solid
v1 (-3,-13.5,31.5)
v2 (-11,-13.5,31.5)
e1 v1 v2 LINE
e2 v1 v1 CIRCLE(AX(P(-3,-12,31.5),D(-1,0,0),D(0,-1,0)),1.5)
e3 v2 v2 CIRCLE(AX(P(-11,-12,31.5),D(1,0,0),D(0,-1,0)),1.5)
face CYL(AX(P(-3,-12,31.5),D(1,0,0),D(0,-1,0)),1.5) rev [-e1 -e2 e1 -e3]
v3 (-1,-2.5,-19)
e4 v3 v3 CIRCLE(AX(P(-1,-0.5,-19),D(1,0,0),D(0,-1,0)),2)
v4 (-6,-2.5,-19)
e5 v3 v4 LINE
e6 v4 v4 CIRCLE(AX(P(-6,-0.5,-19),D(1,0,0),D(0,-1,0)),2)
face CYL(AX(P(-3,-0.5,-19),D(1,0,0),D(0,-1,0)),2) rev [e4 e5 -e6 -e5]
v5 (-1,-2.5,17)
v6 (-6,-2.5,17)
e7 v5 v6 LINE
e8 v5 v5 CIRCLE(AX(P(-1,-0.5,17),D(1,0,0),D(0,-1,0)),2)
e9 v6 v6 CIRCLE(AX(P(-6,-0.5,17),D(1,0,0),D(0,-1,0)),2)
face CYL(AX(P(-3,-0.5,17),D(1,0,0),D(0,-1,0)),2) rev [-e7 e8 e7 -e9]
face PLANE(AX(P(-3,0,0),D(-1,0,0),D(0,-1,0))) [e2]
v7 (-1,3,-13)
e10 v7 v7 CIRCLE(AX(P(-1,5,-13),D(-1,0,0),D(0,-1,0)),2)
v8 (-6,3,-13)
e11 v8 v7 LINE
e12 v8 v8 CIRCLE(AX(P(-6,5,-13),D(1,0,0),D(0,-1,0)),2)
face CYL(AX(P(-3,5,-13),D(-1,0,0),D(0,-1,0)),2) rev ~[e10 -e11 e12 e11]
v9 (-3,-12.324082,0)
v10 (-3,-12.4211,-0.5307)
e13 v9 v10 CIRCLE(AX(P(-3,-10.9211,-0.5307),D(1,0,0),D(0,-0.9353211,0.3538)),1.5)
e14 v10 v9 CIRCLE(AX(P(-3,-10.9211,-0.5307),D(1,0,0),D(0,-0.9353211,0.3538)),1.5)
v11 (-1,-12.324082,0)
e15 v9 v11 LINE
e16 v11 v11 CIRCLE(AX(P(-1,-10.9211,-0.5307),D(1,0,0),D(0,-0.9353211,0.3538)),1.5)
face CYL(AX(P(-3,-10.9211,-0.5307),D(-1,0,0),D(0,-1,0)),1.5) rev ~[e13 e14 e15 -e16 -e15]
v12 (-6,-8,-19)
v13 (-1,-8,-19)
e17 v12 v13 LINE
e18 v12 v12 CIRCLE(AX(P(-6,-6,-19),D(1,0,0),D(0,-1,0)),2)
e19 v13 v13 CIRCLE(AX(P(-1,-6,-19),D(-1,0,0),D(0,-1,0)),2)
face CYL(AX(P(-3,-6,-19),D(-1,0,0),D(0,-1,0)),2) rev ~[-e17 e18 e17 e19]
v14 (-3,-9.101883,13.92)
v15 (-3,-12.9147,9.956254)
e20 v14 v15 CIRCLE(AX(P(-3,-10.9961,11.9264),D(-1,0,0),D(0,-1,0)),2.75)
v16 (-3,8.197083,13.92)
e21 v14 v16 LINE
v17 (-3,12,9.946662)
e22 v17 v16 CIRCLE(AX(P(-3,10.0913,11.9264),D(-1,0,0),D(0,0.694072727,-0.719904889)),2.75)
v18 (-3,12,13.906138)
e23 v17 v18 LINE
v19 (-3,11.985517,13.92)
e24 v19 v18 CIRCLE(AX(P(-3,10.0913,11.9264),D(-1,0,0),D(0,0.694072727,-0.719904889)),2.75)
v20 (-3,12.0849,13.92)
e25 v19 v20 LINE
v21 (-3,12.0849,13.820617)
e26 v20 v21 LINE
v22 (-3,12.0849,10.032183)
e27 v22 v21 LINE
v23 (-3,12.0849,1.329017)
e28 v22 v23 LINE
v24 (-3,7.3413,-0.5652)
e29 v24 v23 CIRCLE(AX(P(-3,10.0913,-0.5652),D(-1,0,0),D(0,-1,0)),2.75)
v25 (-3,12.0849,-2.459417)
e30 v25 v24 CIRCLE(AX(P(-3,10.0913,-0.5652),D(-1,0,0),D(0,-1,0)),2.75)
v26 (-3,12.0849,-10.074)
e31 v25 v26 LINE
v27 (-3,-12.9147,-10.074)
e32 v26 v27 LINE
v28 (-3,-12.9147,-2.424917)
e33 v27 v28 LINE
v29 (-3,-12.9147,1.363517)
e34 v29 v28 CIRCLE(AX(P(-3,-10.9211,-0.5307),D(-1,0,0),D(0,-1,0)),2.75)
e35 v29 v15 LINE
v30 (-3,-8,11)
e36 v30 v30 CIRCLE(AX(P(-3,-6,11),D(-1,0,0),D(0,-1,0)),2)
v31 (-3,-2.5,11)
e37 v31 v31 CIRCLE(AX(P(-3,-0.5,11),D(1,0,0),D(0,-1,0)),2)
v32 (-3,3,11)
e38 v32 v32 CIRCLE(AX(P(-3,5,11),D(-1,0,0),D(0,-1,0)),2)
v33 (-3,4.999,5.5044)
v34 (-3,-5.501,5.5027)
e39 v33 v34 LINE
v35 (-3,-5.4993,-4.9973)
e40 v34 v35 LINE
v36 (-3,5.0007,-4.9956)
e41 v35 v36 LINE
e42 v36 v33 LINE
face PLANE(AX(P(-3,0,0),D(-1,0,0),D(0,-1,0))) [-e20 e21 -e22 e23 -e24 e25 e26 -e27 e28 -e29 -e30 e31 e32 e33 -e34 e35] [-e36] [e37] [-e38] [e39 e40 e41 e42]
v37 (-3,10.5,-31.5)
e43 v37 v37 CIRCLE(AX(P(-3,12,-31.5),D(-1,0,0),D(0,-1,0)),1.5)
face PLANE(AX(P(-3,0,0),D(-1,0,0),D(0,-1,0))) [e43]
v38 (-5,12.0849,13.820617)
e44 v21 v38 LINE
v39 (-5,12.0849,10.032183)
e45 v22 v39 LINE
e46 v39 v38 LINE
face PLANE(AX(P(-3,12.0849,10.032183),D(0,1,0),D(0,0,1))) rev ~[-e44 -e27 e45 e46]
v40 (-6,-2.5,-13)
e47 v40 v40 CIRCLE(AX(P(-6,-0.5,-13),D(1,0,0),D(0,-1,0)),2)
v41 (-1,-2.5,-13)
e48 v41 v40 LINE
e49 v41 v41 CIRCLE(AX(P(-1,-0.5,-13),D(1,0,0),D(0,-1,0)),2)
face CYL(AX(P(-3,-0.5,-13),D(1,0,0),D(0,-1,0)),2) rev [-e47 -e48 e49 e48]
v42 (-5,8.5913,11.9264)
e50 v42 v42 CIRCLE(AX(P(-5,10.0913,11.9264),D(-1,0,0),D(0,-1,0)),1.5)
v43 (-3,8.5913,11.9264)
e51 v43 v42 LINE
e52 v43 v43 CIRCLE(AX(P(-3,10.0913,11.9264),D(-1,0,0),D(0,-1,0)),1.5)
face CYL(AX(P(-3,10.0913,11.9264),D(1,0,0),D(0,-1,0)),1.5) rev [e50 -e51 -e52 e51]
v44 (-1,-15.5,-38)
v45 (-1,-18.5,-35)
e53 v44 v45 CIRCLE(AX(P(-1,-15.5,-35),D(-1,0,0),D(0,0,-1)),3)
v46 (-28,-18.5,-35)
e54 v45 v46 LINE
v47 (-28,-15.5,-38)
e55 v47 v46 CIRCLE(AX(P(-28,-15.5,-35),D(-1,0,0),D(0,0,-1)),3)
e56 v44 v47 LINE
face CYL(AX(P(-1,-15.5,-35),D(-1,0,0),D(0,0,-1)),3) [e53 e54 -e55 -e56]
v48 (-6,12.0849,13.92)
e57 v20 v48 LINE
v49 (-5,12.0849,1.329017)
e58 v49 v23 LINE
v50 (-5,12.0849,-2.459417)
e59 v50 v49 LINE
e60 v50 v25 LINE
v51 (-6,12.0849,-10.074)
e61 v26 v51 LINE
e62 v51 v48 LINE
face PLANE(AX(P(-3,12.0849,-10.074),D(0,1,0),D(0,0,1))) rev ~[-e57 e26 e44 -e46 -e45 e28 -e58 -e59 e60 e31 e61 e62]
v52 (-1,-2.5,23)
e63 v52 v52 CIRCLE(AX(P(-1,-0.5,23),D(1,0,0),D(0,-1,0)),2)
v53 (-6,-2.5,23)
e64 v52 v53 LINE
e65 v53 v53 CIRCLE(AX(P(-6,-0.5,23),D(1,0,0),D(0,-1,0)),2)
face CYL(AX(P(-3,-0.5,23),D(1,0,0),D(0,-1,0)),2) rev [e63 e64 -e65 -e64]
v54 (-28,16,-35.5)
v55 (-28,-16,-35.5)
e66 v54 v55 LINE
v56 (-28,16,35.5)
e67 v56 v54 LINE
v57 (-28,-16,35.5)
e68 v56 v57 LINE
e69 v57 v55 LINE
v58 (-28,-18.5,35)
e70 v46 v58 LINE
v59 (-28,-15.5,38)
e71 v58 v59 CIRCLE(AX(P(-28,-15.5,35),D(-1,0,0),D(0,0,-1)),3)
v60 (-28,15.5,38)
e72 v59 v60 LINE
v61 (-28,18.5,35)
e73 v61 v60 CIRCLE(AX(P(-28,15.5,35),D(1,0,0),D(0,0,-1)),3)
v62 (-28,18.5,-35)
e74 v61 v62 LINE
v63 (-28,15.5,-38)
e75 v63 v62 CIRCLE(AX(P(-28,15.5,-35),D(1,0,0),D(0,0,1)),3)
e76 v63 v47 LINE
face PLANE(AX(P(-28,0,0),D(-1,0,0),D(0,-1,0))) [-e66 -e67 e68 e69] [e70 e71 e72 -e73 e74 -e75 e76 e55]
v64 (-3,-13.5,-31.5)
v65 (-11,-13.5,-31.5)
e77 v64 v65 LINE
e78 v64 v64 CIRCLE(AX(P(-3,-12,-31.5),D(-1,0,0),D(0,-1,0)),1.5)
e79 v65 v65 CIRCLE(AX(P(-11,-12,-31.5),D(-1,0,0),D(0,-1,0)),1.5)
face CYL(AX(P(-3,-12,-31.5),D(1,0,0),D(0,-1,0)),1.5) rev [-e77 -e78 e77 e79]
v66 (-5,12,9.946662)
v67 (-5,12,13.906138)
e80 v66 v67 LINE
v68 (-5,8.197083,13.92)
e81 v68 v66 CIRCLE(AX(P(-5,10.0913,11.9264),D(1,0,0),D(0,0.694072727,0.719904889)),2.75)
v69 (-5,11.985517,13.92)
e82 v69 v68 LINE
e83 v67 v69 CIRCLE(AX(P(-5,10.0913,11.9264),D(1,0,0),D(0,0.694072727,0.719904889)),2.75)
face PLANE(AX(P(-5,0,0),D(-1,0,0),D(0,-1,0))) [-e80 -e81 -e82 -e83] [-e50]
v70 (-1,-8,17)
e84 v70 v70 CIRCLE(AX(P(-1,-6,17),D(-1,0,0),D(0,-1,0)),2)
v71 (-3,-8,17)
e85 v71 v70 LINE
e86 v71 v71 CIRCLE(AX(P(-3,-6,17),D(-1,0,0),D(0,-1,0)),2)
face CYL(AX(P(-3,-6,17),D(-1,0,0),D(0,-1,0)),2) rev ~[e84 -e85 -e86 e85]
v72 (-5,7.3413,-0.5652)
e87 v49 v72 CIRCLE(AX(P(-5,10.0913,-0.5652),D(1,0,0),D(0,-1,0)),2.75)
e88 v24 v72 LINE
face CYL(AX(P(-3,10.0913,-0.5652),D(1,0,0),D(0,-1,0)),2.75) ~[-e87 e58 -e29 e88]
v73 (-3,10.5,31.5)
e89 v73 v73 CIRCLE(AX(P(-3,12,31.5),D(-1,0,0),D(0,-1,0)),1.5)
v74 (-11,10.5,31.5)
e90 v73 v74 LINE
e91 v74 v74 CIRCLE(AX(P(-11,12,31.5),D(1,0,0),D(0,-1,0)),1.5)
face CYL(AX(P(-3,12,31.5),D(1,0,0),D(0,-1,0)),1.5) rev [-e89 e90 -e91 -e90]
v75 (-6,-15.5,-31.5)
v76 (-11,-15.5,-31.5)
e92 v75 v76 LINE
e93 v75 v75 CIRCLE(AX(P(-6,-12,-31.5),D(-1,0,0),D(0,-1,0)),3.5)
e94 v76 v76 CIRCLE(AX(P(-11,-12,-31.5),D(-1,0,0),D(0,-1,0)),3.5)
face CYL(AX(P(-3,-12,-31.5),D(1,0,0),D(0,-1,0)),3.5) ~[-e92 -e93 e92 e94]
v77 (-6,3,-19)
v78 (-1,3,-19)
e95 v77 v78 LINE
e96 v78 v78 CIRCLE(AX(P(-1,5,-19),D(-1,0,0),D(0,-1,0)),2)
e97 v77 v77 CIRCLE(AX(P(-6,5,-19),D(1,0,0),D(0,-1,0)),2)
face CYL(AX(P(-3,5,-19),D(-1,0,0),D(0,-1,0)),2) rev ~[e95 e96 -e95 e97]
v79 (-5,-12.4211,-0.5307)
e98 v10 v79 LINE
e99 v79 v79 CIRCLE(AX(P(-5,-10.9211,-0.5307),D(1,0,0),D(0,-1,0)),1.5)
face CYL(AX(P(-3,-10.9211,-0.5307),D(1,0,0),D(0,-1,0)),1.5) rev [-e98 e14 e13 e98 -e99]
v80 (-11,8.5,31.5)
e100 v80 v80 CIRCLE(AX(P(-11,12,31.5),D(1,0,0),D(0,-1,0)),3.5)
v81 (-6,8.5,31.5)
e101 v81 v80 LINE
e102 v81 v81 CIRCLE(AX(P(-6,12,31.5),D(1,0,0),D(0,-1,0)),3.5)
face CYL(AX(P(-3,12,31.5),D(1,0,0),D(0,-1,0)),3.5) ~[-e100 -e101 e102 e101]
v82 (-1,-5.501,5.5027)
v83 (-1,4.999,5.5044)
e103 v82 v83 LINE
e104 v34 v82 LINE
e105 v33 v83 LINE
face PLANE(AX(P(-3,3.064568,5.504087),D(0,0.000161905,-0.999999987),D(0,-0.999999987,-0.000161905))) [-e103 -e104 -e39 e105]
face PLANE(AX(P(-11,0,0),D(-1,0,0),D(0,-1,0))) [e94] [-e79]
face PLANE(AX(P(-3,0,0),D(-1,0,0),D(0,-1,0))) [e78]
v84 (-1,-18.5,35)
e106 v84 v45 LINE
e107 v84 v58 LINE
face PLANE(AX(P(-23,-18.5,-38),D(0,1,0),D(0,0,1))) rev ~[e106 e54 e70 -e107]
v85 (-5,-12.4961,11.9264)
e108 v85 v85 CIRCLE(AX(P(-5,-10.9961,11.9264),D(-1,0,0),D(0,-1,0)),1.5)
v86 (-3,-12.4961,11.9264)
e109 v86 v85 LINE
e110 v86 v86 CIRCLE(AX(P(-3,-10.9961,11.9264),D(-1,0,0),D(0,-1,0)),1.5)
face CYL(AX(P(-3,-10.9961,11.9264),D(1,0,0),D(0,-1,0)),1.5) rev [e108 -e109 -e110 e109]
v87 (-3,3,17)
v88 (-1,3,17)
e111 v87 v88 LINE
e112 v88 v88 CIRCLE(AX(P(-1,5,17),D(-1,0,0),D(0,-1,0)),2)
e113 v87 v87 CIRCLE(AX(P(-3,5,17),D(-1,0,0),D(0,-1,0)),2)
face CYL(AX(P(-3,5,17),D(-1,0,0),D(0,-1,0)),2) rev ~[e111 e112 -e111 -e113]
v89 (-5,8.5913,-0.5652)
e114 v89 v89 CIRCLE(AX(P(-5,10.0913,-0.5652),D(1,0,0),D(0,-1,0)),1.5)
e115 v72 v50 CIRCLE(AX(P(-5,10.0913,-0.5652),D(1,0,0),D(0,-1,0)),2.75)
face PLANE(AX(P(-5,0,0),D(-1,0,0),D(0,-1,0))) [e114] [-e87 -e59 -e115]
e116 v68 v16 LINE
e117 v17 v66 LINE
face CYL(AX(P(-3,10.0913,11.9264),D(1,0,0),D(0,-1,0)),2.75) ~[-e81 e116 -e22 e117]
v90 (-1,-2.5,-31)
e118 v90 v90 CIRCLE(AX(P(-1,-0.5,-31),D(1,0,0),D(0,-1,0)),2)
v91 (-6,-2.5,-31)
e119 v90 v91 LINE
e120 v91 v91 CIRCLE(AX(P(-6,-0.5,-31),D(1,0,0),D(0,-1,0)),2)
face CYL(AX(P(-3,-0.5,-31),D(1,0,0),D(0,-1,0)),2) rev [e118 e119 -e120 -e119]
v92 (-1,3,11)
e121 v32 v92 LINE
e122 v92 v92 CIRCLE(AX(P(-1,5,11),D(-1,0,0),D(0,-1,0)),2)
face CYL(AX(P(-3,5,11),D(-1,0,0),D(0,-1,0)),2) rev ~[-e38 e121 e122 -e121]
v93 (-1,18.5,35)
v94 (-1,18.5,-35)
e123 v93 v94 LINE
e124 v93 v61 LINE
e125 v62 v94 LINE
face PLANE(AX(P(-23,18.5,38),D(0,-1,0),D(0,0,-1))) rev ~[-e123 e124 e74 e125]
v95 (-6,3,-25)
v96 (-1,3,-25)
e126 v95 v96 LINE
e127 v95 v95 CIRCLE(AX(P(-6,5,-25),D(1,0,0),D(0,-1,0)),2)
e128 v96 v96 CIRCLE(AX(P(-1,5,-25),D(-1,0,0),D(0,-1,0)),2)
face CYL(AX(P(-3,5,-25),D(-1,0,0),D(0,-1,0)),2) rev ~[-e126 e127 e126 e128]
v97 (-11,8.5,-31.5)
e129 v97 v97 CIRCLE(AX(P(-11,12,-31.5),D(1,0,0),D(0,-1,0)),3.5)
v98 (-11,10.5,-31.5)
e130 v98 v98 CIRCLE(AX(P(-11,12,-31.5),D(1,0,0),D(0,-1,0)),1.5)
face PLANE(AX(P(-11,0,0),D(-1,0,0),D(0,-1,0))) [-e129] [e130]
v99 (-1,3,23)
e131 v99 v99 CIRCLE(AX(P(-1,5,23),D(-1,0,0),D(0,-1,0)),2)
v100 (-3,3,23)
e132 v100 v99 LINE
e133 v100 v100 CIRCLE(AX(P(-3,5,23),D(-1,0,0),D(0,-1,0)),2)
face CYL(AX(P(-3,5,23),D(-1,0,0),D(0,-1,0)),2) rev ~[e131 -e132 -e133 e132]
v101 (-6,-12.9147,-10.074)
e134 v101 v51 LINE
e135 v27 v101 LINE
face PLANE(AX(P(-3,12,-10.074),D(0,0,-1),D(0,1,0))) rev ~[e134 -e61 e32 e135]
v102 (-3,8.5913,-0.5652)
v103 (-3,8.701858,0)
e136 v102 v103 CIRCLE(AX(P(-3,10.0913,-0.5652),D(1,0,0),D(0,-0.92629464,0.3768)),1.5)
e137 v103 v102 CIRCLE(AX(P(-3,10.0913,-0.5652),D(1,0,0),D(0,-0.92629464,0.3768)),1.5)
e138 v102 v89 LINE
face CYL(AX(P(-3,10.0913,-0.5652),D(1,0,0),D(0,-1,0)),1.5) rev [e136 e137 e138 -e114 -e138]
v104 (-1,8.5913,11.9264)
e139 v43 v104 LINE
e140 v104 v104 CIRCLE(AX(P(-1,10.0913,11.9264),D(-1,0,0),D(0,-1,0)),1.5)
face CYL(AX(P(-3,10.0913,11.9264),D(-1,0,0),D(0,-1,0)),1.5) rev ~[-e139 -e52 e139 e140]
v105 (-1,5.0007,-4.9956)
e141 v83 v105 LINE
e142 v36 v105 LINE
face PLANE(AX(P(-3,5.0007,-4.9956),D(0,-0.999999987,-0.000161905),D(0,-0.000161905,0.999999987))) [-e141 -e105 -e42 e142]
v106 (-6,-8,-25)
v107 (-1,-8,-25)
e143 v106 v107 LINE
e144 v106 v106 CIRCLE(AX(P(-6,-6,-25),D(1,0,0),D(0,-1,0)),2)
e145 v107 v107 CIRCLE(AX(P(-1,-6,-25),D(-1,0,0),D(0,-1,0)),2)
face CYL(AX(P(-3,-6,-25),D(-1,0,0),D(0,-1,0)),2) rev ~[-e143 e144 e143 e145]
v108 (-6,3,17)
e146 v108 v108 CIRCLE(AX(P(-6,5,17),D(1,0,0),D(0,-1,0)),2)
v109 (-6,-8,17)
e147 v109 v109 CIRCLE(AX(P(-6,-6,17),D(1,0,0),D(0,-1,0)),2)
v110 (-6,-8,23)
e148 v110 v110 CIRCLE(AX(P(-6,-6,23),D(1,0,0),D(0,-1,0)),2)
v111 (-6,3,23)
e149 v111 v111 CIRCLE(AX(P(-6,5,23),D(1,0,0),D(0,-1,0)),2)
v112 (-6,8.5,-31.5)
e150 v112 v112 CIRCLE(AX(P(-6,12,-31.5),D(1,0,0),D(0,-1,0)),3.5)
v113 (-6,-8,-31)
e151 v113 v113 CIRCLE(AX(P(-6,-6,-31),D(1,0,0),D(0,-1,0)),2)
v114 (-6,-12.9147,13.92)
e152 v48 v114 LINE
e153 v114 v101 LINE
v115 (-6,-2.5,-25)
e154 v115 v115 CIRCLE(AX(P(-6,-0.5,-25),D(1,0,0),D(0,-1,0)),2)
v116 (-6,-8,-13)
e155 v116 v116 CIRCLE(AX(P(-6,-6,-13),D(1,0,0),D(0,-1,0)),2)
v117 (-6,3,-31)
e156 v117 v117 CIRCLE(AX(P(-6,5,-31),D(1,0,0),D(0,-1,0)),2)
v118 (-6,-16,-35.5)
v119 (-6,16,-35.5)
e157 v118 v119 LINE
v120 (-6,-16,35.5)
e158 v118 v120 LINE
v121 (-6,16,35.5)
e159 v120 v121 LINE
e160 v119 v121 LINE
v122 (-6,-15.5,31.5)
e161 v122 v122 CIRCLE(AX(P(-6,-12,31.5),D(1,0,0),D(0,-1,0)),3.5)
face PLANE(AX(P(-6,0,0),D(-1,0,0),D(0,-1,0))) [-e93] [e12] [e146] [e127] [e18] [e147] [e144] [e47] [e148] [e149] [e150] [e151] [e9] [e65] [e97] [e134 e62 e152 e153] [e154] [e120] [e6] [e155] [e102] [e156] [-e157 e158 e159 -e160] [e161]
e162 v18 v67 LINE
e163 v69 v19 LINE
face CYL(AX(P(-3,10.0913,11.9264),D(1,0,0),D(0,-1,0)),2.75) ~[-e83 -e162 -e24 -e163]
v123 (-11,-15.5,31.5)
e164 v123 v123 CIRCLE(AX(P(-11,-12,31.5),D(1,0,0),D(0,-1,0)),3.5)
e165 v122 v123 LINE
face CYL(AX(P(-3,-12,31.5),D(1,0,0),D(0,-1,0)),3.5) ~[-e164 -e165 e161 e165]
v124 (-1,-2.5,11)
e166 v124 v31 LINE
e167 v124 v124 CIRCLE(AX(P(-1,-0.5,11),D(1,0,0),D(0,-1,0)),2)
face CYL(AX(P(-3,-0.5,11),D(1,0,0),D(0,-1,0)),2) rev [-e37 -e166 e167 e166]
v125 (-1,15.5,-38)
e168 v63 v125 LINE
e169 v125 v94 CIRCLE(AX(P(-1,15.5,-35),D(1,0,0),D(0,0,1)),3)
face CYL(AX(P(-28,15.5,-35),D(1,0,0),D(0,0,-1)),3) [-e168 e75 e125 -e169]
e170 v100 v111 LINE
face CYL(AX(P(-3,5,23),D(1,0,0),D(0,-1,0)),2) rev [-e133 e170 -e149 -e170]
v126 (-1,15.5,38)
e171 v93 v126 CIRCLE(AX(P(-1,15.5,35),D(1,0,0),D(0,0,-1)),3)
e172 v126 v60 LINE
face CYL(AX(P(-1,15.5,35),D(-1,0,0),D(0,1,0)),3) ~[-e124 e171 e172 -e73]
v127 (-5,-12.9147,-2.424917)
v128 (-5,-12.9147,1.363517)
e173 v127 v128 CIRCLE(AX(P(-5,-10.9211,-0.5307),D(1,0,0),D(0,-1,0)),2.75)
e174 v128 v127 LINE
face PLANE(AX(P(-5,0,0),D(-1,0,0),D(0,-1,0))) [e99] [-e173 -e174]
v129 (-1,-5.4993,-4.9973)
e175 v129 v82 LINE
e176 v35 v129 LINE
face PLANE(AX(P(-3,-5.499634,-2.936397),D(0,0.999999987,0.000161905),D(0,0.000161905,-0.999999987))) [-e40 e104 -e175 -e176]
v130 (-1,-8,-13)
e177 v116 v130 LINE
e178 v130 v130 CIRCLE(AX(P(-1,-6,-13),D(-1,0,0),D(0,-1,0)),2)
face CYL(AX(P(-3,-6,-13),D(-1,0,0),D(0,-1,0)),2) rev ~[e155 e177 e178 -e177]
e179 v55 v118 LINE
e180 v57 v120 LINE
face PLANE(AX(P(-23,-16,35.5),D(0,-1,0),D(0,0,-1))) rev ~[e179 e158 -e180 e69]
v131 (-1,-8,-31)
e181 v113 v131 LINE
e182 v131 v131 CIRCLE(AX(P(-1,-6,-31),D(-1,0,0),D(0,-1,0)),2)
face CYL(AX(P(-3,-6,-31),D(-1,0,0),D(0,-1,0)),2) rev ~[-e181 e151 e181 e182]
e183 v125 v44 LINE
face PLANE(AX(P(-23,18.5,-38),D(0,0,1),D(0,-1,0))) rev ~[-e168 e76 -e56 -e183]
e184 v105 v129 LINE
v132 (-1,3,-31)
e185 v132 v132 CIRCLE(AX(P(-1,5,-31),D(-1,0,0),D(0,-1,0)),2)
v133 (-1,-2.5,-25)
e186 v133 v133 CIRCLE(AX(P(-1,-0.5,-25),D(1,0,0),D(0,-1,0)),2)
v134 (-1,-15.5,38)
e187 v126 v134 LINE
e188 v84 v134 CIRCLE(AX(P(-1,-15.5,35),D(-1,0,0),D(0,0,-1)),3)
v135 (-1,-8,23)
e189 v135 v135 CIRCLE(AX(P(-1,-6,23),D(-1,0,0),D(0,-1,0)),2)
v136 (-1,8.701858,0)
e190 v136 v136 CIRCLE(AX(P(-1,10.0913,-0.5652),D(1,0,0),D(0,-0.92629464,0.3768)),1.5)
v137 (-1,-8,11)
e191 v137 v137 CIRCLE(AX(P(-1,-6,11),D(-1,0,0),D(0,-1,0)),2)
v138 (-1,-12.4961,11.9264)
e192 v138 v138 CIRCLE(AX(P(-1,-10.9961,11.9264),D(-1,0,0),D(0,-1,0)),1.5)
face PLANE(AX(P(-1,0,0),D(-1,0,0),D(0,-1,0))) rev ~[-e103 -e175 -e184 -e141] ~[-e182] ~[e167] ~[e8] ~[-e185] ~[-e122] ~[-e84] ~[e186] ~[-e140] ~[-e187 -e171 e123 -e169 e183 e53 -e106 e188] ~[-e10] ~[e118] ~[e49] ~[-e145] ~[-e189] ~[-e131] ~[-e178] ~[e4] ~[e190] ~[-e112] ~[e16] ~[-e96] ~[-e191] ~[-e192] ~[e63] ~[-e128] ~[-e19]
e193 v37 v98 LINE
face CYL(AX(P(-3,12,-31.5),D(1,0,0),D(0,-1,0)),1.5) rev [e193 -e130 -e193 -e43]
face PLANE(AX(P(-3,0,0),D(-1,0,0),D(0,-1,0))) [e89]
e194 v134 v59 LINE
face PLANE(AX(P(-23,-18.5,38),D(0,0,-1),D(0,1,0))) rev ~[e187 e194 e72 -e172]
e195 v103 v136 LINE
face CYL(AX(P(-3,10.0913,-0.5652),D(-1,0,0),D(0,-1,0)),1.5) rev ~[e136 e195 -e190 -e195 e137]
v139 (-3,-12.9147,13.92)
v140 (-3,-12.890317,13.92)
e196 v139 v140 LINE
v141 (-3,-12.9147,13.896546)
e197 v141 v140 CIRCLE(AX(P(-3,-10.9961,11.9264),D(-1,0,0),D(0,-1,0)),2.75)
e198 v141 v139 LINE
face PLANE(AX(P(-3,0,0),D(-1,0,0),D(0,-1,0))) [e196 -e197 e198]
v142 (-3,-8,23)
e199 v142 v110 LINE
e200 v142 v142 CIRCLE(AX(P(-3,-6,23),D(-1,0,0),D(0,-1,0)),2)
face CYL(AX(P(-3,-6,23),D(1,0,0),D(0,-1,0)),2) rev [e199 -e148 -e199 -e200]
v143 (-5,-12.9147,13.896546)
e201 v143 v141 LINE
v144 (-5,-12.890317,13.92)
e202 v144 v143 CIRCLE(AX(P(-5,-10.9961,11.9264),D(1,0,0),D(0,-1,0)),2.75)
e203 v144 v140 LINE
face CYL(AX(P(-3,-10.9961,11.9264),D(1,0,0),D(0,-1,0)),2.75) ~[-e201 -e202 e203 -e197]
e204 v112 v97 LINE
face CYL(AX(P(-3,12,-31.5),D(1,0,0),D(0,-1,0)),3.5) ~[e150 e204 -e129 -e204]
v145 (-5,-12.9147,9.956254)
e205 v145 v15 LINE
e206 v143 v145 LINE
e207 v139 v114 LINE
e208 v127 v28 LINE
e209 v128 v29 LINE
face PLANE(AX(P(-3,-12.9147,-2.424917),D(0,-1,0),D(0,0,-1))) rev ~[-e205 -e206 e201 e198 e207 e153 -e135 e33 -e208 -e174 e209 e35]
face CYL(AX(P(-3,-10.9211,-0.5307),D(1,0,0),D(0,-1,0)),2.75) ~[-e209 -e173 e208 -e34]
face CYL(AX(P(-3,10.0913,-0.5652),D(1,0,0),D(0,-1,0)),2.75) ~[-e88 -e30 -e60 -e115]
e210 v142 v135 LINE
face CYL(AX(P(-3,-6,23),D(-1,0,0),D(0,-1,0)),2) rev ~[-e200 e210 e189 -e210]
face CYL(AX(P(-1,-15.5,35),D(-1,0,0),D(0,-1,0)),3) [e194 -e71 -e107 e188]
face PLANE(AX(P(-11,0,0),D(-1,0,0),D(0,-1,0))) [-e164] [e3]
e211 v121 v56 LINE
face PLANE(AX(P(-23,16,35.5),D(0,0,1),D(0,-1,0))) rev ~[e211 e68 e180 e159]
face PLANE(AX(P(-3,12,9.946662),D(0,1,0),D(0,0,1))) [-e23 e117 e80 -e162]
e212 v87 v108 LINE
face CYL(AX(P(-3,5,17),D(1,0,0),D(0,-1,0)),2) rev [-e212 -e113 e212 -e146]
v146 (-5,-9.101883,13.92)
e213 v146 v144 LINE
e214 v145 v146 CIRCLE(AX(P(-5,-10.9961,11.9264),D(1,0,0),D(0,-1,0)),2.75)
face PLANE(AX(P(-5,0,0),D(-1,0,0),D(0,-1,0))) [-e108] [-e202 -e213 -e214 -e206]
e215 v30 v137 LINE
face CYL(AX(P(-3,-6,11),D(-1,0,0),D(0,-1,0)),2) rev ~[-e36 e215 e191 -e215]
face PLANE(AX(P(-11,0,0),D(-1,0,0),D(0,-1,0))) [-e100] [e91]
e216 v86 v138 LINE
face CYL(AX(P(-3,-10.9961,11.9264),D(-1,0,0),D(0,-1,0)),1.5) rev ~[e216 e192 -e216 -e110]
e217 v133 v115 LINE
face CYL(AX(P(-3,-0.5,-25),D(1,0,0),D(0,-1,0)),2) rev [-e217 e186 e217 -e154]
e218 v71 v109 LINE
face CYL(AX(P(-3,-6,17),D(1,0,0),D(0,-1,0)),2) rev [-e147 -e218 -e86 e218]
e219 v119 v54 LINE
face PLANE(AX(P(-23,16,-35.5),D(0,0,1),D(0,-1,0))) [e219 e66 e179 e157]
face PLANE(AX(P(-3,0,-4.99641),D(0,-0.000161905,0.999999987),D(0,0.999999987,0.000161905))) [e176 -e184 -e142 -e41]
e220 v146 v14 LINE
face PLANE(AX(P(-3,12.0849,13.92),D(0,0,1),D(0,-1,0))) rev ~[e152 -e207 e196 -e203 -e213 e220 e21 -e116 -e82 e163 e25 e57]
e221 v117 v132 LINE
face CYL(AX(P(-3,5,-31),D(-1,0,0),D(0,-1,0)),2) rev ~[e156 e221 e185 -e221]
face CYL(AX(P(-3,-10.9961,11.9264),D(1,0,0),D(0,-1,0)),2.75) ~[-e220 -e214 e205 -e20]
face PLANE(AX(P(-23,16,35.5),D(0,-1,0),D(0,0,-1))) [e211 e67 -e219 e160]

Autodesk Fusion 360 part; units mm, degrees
sketch "main_shape" plane through (-3, 0, 0) normal (-1, 0, 0) x (0, -1, 0)
  line L0 (-16, -35.5) -> (16, -35.5)
  line L1 (16, -35.5) -> (16, 35.5)
  line L2 (16, 35.5) -> (-16, 35.5)
  line L3 (-16, 35.5) -> (-16, -35.5)
  line L4 (-16, -35.5) -> (16, 35.5) construction
  line L5 (16, -35.5) -> (-16, 35.5) construction
  line L6 (-12, -41.3396) -> (-12, 39)
  line L7 (37, 0) -> (-27, 0)
  line L8 (37, 31.5) -> (-27, 31.5)
  circle A0 centre (-12, 31.5) radius 1.5
  circle A1 centre (-12, -31.5) radius 1.5
  line L9 (0, 42) -> (0, -40.4906)
  circle A2 centre (12, 31.5) radius 1.5
  circle A3 centre (12, -31.5) radius 1.5
  line L10 (18.5, -38) -> (18.5, 38)
  line L11 (18.5, 38) -> (-18.5, 38)
  line L12 (-18.5, 38) -> (-18.5, -38)
  line L13 (-18.5, -38) -> (18.5, -38)
  spline S0 degree 3 poles (44.3606, -31.4828) (42.7106, -31.4828) (41.3606, -30.1328) (41.3606, -28.4828) knots 1 1 1 1 2 2 2 2
  circle A4 centre (67.7694, -28.0995) radius 1.4
  circle A5 centre (44.7721, -28.0995) radius 1.4
  line L14 (68.3606, -31.4828) -> (44.3606, -31.4828)
  spline S1 degree 3 poles (71.3606, -28.4828) (71.3606, -30.1328) (70.0106, -31.4828) (68.3606, -31.4828) knots 7 7 7 7 8 8 8 8
  line L15 (0.4061, -10.074) -> (-12.0849, -10.074)
  line L16 (41.3606, -28.4828) -> (41.3606, 30.5172)
  line L17 (71.3606, 30.5172) -> (71.3606, -28.4828)
  line L18 (-12.0849, 13.92) -> (12.9147, 13.92)
  line L19 (44.3606, 33.5172) -> (68.3606, 33.5172)
  line L20 (12.9147, -10.074) -> (0.4061, -10.074)
  line L21 (5.4993, -4.9973) -> (-5.0007, -4.9956)
  line L22 (-4.999, 5.5044) -> (5.501, 5.5027)
  line L23 (50.5, -120.5) -> (65.5, -120.5)
  line L24 (65.5, -120.5) -> (65.5, -105.5)
  circle A6 centre (-10.0913, 11.9264) radius 1.5
  line L25 (5.501, 5.5027) -> (5.4993, -4.9973)
  line L26 (5.501, 5.5027) -> (-5.0007, -4.9956) construction
  circle A7 centre (10.9961, 11.9264) radius 1.5
  circle A8 centre (58, -113) radius 4
  line L27 (5.4993, -4.9973) -> (-4.999, 5.5044) construction
  line L28 (-5.0007, -4.9956) -> (-4.999, 5.5044)
  spline S2 degree 3 poles (41.3606, 30.5172) (41.3606, 32.1672) (42.7106, 33.5172) (44.3606, 33.5172) knots 3 3 3 3 4 4 4 4
  line L29 (-12.0849, -10.074) -> (-12.0849, 13.92)
  circle A9 centre (67.7694, 29.8978) radius 1.4
  circle A10 centre (-10.0913, -0.5652) radius 1.5
  circle A11 centre (44.7718, 29.8978) radius 1.4
  line L30 (64.5, -119.5) -> (51.5, -119.5)
  spline S3 degree 3 poles (68.3606, 33.5172) (70.0106, 33.5172) (71.3606, 32.1672) (71.3606, 30.5172) knots 5 5 5 5 6 6 6 6
  line L31 (51.5, -119.5) -> (64.5, -106.5) construction
  line L32 (50.5, -105.5) -> (50.5, -120.5)
  line L33 (65.5, -105.5) -> (50.5, -105.5)
  line L34 (64.5, -119.5) -> (51.5, -106.5) construction
  line L35 (65.5, -120.5) -> (50.5, -105.5) construction
  line L36 (12.9147, 13.92) -> (12.9147, -10.074)
  line L37 (52, -119) -> (64, -107) construction
  line L38 (64, -119) -> (52, -107) construction
  line L39 (51.5, -119.5) -> (51.5, -106.5)
  line L40 (50.5, -120.5) -> (65.5, -105.5) construction
  line L41 (51.5, -106.5) -> (64.5, -106.5)
  line L42 (64.5, -106.5) -> (64.5, -119.5)
  circle A12 centre (10.9211, -0.5307) radius 1.5
  circle A13 centre (12, 31.5) radius 3.5
  circle A14 centre (-12, 31.5) radius 3.5
  circle A15 centre (12, -31.5) radius 3.5
  circle A16 centre (-12, -31.5) radius 3.5
  circle A17 centre (0.5, -1) radius 2
  circle A18 centre (-5, 23) radius 2
  circle A19 centre (0.5, 23) radius 2
  circle A20 centre (6, 23) radius 2
  circle A21 centre (-5, 17) radius 2
  circle A22 centre (0.5, 17) radius 2
  circle A23 centre (6, 17) radius 2
  circle A24 centre (-5, 11) radius 2
  circle A25 centre (0.5, 11) radius 2
  circle A26 centre (6, 11) radius 2
  circle A27 centre (-5, 5) radius 2
  circle A28 centre (0.5, 5) radius 2
  circle A29 centre (6, 5) radius 2
  circle A30 centre (-5, -1) radius 2
  circle A31 centre (6, -1) radius 2
  circle A32 centre (10.9961, 11.9264) radius 2.75
  circle A33 centre (-10.0913, 11.9264) radius 2.75
  circle A34 centre (-10.0913, -0.5652) radius 2.75
  circle A35 centre (10.9211, -0.5307) radius 2.75
  circle A36 centre (-5, -7) radius 2
  circle A37 centre (0.5, -7) radius 2
  circle A38 centre (6, -7) radius 2
  circle A39 centre (-5, -13) radius 2
  circle A40 centre (0.5, -13) radius 2
  circle A41 centre (6, -13) radius 2
  circle A42 centre (-5, -19) radius 2
  circle A43 centre (0.5, -19) radius 2
  circle A44 centre (6, -19) radius 2
  circle A45 centre (-5, -25) radius 2
  circle A46 centre (0.5, -25) radius 2
  circle A47 centre (6, -25) radius 2
  circle A48 centre (-5, -31) radius 2
  circle A49 centre (0.5, -31) radius 2
  circle A50 centre (6, -31) radius 2
  point P0 (-8, 0)
  point P1 (58, -113)
  point P2 (0.2502, 0.2536)
  point P3 (58, -113)
  point P4 (58, -113)
  dimension "d80" = 32
  dimension "d81" = 71
  dimension "d84" = 31.5
  dimension "d85" = 3
  dimension "d86" = 2.5
  dimension "d103" = 12
  dimension "d104" = 15
  dimension "d105" = 8
  dimension "d106" = 13
  dimension "d107" = 13
  dimension "d108" = 10.5
  dimension "d109" = 10.5
  dimension "d110" = 3
  dimension "d111" = 3
  dimension "d112" = 3
  dimension "d113" = 3
  dimension "d114" = 7
  dimension "d115" = 7
  dimension "d116" = 7
  dimension "d129" = 4
  dimension "d132" = 5.5
  dimension "d133" = -30
  dimension "d138" = 5.5
  dimension "d139" = 5.5
  dimension "d140" = 5.5
  dimension "d141" = 5.5
extrude "Extrude23" add sketch "main_shape" against normal blind 2 contours L0 L3 L6 L7 L15 L29 A16 A34 | L0 L3 L6 L7 L12 L13 | L0 L6 L9 L15 A16 A40 A43 A46 A49 | L0 L6 L9 L13 | L3 L7 L8 L12 | L3 L6 L7 L8 L18 L29 A14 A33 A34 | L0 L1 L7 L9 L15 L20 L36 A35 A40 A43 A46 A49 | L0 L1 L7 L9 L10 L13 | L6 A1 A16 | L6 A1 A16 | L2 L3 L6 L8 L11 L12 | L2 L3 L6 L8 A14 | L7 L29 A34 | L7 L29 A34 | L9 A49 | L9 A49 | L6 A1 | L6 A1 | L6 L8 A0 A14 | L6 L8 A0 A14 | L6 L7 L29 A34 | L6 L7 L29 A34 | L6 L29 A33 A34 | L6 L15 L29 A34 | L1 L7 L8 L9 L18 L36 A13 A19 A22 A32 A35 | L1 L7 L8 L10 | L6 L7 L9 L15 L21 L28 A30 A34 A37 | L2 L6 L9 L11 | L2 L6 L8 L9 A14 | L6 L8 A0 | L6 L8 A0 | L6 L8 A0 A14 | L6 L8 L9 L18 A14 A19 A22 A33 | L6 L8 A0 A14 | L6 L7 A10 A34 | L6 L7 A10 A34 | L29 A33 | L6 L29 A33 | L6 L7 L9 L18 L22 L28 A25 A27 A28 A30 A33 A34 | L1 L2 L8 L9 A13 | L1 L2 L8 L9 L10 L11 | L7 L36 A35 | L7 L36 A35 | L9 A46 | L9 A46 | L7 L9 L15 L20 L21 L25 L36 A31 A35 A37 | L6 L8 A0 | L6 L8 A0 | L6 L18 A33 | L6 L18 L29 A33 | L7 A10 | L6 L18 A33 | L8 A2 A13 | L8 A2 A13 | L7 L36 A12 A35 | L7 L36 A12 A35 | L7 L9 L18 L22 L25 L36 A25 A28 A29 A31 A32 A35 | L9 A37 | L9 A37 | L9 A40 | L9 A40 | L18 A33 | L7 L28 A30 | L7 L28 A30 | L8 A2 | L8 A2 | L7 A12 | L18 L36 A32 | L36 A32 | L9 A43 | L9 A43 | L9 A19 | L9 A19 | L18 L36 A32 | L18 A32 | L7 L25 A31 | L7 L25 A31 | L22 L28 A27 | L9 A22 | L9 A22 | L9 A25 | L9 A25 | L22 L25 A29 | L9 L22 A28 | L9 L22 A28 | A3 | A15 | A18 | A20 | A21 | A23 | A24 | A26 | A36 | A38 | A39 | A41 | A42 | A44 | A45 | A47 | A48 | A50 picked at (-9.7033, 0.127) picked at (-5.0991, 0.6592) picked at (-5.0995, -1.9925) picked at (10.7507, 0.3866) picked at (6.4927, -1.8218) picked at (5.5949, 0.6416) picked at (-5.0979, 3.8421) picked at (7.1601, 5.2635) picked at (-0.5418, 6.1699) picked at (1.5934, 5.5934)
extrude "Extrude24" add sketch "main_shape" along normal blind 20 contours L0 L3 L6 L7 L12 L13 | L0 L6 L9 L13 | L3 L7 L8 L12 | L0 L1 L7 L9 L10 L13 | L2 L3 L6 L8 L11 L12 | L1 L7 L8 L10 | L2 L6 L9 L11 | L1 L2 L8 L9 L10 L11
extrude "Extrude25" add sketch "main_shape" along normal blind 8 contours L6 A1 A16 | L6 A1 A16 | L6 L8 A0 A14 | L6 L8 A0 A14 | L6 L8 A0 A14 | L6 L8 A0 A14 | L8 A2 A13 | L8 A2 A13 | A15
extrude "Extrude26" add sketch "main_shape" along normal blind 3 contours L0 L3 L6 L7 L15 L29 A16 A34 | L0 L6 L9 L15 A16 A40 A43 A46 A49 | L3 L6 L7 L8 L18 L29 A14 A33 A34 | L0 L1 L7 L9 L15 L20 L36 A35 A40 A43 A46 A49 | L2 L3 L6 L8 A14 | L7 L29 A34 | L7 L29 A34 | L9 A49 | L9 A49 | L1 L7 L8 L9 L18 L36 A13 A19 A22 A32 A35 | L2 L6 L8 L9 A14 | L6 L8 L9 L18 A14 A19 A22 A33 | L29 A33 | L1 L2 L8 L9 A13 | L7 L36 A35 | L7 L36 A35 | L9 A46 | L9 A46 | L9 A40 | L9 A40 | L18 A33 | L36 A32 | L9 A43 | L9 A43 | L9 A19 | L9 A19 | L18 A32 | L9 A22 | L9 A22 | A18 | A20 | A21 | A23 | A39 | A41 | A42 | A44 | A45 | A47 | A48 | A50
extrude "Extrude27" cut sketch "main_shape" against normal blind 14 contours L7 A10 | L7 A12 picked at (-9.7033, 0.127) picked at (10.7507, 0.3866)
extrude "Extrude28" cut sketch "main_shape" along normal mid plane 36 contours L9 A49 | L9 A49 | L9 A46 | L9 A46 | L9 A40 | L9 A40 | L9 A43 | L9 A43 | L9 A19 | L9 A19 | L9 A22 | L9 A22 | L9 A25 | L9 A25 | A18 | A20 | A21 | A23 | A24 | A26 | A39 | A41 | A42 | A44 | A45 | A47 | A48 | A50
extrude "Extrude29" add 1 faces at (-23, -17.6667, -11.8333) along direction (-1, 0, 0) blind 5
extrude "Extrude30" add sketch "main_shape" along normal blind 2 contours L7 L29 A34 | L7 L29 A34 | L6 L7 L29 A34 | L6 L7 L29 A34 | L6 L7 A10 A34 | L6 L7 A10 A34 | L29 A33 | L7 L36 A35 | L7 L36 A35 | L6 L18 A33 | L7 L36 A12 A35 | L7 L36 A12 A35 | L18 A33 | L18 L36 A32 | L36 A32 | L18 A32 picked at (-10.0539, 13.754) picked at (11.0335, 13.754)
fillet "Fillet9" radius 3 1 edges at (-14.5, -18.5, -38)
fillet "Fillet10" radius 3 1 edges at (-14.5, 18.5, -38)
fillet "Fillet11" radius 3 2 edges at (-14.5, -18.5, 38) (-14.5, 18.5, 38)
equation "d84 = ( 63 / 2 ) * 1 mm"
